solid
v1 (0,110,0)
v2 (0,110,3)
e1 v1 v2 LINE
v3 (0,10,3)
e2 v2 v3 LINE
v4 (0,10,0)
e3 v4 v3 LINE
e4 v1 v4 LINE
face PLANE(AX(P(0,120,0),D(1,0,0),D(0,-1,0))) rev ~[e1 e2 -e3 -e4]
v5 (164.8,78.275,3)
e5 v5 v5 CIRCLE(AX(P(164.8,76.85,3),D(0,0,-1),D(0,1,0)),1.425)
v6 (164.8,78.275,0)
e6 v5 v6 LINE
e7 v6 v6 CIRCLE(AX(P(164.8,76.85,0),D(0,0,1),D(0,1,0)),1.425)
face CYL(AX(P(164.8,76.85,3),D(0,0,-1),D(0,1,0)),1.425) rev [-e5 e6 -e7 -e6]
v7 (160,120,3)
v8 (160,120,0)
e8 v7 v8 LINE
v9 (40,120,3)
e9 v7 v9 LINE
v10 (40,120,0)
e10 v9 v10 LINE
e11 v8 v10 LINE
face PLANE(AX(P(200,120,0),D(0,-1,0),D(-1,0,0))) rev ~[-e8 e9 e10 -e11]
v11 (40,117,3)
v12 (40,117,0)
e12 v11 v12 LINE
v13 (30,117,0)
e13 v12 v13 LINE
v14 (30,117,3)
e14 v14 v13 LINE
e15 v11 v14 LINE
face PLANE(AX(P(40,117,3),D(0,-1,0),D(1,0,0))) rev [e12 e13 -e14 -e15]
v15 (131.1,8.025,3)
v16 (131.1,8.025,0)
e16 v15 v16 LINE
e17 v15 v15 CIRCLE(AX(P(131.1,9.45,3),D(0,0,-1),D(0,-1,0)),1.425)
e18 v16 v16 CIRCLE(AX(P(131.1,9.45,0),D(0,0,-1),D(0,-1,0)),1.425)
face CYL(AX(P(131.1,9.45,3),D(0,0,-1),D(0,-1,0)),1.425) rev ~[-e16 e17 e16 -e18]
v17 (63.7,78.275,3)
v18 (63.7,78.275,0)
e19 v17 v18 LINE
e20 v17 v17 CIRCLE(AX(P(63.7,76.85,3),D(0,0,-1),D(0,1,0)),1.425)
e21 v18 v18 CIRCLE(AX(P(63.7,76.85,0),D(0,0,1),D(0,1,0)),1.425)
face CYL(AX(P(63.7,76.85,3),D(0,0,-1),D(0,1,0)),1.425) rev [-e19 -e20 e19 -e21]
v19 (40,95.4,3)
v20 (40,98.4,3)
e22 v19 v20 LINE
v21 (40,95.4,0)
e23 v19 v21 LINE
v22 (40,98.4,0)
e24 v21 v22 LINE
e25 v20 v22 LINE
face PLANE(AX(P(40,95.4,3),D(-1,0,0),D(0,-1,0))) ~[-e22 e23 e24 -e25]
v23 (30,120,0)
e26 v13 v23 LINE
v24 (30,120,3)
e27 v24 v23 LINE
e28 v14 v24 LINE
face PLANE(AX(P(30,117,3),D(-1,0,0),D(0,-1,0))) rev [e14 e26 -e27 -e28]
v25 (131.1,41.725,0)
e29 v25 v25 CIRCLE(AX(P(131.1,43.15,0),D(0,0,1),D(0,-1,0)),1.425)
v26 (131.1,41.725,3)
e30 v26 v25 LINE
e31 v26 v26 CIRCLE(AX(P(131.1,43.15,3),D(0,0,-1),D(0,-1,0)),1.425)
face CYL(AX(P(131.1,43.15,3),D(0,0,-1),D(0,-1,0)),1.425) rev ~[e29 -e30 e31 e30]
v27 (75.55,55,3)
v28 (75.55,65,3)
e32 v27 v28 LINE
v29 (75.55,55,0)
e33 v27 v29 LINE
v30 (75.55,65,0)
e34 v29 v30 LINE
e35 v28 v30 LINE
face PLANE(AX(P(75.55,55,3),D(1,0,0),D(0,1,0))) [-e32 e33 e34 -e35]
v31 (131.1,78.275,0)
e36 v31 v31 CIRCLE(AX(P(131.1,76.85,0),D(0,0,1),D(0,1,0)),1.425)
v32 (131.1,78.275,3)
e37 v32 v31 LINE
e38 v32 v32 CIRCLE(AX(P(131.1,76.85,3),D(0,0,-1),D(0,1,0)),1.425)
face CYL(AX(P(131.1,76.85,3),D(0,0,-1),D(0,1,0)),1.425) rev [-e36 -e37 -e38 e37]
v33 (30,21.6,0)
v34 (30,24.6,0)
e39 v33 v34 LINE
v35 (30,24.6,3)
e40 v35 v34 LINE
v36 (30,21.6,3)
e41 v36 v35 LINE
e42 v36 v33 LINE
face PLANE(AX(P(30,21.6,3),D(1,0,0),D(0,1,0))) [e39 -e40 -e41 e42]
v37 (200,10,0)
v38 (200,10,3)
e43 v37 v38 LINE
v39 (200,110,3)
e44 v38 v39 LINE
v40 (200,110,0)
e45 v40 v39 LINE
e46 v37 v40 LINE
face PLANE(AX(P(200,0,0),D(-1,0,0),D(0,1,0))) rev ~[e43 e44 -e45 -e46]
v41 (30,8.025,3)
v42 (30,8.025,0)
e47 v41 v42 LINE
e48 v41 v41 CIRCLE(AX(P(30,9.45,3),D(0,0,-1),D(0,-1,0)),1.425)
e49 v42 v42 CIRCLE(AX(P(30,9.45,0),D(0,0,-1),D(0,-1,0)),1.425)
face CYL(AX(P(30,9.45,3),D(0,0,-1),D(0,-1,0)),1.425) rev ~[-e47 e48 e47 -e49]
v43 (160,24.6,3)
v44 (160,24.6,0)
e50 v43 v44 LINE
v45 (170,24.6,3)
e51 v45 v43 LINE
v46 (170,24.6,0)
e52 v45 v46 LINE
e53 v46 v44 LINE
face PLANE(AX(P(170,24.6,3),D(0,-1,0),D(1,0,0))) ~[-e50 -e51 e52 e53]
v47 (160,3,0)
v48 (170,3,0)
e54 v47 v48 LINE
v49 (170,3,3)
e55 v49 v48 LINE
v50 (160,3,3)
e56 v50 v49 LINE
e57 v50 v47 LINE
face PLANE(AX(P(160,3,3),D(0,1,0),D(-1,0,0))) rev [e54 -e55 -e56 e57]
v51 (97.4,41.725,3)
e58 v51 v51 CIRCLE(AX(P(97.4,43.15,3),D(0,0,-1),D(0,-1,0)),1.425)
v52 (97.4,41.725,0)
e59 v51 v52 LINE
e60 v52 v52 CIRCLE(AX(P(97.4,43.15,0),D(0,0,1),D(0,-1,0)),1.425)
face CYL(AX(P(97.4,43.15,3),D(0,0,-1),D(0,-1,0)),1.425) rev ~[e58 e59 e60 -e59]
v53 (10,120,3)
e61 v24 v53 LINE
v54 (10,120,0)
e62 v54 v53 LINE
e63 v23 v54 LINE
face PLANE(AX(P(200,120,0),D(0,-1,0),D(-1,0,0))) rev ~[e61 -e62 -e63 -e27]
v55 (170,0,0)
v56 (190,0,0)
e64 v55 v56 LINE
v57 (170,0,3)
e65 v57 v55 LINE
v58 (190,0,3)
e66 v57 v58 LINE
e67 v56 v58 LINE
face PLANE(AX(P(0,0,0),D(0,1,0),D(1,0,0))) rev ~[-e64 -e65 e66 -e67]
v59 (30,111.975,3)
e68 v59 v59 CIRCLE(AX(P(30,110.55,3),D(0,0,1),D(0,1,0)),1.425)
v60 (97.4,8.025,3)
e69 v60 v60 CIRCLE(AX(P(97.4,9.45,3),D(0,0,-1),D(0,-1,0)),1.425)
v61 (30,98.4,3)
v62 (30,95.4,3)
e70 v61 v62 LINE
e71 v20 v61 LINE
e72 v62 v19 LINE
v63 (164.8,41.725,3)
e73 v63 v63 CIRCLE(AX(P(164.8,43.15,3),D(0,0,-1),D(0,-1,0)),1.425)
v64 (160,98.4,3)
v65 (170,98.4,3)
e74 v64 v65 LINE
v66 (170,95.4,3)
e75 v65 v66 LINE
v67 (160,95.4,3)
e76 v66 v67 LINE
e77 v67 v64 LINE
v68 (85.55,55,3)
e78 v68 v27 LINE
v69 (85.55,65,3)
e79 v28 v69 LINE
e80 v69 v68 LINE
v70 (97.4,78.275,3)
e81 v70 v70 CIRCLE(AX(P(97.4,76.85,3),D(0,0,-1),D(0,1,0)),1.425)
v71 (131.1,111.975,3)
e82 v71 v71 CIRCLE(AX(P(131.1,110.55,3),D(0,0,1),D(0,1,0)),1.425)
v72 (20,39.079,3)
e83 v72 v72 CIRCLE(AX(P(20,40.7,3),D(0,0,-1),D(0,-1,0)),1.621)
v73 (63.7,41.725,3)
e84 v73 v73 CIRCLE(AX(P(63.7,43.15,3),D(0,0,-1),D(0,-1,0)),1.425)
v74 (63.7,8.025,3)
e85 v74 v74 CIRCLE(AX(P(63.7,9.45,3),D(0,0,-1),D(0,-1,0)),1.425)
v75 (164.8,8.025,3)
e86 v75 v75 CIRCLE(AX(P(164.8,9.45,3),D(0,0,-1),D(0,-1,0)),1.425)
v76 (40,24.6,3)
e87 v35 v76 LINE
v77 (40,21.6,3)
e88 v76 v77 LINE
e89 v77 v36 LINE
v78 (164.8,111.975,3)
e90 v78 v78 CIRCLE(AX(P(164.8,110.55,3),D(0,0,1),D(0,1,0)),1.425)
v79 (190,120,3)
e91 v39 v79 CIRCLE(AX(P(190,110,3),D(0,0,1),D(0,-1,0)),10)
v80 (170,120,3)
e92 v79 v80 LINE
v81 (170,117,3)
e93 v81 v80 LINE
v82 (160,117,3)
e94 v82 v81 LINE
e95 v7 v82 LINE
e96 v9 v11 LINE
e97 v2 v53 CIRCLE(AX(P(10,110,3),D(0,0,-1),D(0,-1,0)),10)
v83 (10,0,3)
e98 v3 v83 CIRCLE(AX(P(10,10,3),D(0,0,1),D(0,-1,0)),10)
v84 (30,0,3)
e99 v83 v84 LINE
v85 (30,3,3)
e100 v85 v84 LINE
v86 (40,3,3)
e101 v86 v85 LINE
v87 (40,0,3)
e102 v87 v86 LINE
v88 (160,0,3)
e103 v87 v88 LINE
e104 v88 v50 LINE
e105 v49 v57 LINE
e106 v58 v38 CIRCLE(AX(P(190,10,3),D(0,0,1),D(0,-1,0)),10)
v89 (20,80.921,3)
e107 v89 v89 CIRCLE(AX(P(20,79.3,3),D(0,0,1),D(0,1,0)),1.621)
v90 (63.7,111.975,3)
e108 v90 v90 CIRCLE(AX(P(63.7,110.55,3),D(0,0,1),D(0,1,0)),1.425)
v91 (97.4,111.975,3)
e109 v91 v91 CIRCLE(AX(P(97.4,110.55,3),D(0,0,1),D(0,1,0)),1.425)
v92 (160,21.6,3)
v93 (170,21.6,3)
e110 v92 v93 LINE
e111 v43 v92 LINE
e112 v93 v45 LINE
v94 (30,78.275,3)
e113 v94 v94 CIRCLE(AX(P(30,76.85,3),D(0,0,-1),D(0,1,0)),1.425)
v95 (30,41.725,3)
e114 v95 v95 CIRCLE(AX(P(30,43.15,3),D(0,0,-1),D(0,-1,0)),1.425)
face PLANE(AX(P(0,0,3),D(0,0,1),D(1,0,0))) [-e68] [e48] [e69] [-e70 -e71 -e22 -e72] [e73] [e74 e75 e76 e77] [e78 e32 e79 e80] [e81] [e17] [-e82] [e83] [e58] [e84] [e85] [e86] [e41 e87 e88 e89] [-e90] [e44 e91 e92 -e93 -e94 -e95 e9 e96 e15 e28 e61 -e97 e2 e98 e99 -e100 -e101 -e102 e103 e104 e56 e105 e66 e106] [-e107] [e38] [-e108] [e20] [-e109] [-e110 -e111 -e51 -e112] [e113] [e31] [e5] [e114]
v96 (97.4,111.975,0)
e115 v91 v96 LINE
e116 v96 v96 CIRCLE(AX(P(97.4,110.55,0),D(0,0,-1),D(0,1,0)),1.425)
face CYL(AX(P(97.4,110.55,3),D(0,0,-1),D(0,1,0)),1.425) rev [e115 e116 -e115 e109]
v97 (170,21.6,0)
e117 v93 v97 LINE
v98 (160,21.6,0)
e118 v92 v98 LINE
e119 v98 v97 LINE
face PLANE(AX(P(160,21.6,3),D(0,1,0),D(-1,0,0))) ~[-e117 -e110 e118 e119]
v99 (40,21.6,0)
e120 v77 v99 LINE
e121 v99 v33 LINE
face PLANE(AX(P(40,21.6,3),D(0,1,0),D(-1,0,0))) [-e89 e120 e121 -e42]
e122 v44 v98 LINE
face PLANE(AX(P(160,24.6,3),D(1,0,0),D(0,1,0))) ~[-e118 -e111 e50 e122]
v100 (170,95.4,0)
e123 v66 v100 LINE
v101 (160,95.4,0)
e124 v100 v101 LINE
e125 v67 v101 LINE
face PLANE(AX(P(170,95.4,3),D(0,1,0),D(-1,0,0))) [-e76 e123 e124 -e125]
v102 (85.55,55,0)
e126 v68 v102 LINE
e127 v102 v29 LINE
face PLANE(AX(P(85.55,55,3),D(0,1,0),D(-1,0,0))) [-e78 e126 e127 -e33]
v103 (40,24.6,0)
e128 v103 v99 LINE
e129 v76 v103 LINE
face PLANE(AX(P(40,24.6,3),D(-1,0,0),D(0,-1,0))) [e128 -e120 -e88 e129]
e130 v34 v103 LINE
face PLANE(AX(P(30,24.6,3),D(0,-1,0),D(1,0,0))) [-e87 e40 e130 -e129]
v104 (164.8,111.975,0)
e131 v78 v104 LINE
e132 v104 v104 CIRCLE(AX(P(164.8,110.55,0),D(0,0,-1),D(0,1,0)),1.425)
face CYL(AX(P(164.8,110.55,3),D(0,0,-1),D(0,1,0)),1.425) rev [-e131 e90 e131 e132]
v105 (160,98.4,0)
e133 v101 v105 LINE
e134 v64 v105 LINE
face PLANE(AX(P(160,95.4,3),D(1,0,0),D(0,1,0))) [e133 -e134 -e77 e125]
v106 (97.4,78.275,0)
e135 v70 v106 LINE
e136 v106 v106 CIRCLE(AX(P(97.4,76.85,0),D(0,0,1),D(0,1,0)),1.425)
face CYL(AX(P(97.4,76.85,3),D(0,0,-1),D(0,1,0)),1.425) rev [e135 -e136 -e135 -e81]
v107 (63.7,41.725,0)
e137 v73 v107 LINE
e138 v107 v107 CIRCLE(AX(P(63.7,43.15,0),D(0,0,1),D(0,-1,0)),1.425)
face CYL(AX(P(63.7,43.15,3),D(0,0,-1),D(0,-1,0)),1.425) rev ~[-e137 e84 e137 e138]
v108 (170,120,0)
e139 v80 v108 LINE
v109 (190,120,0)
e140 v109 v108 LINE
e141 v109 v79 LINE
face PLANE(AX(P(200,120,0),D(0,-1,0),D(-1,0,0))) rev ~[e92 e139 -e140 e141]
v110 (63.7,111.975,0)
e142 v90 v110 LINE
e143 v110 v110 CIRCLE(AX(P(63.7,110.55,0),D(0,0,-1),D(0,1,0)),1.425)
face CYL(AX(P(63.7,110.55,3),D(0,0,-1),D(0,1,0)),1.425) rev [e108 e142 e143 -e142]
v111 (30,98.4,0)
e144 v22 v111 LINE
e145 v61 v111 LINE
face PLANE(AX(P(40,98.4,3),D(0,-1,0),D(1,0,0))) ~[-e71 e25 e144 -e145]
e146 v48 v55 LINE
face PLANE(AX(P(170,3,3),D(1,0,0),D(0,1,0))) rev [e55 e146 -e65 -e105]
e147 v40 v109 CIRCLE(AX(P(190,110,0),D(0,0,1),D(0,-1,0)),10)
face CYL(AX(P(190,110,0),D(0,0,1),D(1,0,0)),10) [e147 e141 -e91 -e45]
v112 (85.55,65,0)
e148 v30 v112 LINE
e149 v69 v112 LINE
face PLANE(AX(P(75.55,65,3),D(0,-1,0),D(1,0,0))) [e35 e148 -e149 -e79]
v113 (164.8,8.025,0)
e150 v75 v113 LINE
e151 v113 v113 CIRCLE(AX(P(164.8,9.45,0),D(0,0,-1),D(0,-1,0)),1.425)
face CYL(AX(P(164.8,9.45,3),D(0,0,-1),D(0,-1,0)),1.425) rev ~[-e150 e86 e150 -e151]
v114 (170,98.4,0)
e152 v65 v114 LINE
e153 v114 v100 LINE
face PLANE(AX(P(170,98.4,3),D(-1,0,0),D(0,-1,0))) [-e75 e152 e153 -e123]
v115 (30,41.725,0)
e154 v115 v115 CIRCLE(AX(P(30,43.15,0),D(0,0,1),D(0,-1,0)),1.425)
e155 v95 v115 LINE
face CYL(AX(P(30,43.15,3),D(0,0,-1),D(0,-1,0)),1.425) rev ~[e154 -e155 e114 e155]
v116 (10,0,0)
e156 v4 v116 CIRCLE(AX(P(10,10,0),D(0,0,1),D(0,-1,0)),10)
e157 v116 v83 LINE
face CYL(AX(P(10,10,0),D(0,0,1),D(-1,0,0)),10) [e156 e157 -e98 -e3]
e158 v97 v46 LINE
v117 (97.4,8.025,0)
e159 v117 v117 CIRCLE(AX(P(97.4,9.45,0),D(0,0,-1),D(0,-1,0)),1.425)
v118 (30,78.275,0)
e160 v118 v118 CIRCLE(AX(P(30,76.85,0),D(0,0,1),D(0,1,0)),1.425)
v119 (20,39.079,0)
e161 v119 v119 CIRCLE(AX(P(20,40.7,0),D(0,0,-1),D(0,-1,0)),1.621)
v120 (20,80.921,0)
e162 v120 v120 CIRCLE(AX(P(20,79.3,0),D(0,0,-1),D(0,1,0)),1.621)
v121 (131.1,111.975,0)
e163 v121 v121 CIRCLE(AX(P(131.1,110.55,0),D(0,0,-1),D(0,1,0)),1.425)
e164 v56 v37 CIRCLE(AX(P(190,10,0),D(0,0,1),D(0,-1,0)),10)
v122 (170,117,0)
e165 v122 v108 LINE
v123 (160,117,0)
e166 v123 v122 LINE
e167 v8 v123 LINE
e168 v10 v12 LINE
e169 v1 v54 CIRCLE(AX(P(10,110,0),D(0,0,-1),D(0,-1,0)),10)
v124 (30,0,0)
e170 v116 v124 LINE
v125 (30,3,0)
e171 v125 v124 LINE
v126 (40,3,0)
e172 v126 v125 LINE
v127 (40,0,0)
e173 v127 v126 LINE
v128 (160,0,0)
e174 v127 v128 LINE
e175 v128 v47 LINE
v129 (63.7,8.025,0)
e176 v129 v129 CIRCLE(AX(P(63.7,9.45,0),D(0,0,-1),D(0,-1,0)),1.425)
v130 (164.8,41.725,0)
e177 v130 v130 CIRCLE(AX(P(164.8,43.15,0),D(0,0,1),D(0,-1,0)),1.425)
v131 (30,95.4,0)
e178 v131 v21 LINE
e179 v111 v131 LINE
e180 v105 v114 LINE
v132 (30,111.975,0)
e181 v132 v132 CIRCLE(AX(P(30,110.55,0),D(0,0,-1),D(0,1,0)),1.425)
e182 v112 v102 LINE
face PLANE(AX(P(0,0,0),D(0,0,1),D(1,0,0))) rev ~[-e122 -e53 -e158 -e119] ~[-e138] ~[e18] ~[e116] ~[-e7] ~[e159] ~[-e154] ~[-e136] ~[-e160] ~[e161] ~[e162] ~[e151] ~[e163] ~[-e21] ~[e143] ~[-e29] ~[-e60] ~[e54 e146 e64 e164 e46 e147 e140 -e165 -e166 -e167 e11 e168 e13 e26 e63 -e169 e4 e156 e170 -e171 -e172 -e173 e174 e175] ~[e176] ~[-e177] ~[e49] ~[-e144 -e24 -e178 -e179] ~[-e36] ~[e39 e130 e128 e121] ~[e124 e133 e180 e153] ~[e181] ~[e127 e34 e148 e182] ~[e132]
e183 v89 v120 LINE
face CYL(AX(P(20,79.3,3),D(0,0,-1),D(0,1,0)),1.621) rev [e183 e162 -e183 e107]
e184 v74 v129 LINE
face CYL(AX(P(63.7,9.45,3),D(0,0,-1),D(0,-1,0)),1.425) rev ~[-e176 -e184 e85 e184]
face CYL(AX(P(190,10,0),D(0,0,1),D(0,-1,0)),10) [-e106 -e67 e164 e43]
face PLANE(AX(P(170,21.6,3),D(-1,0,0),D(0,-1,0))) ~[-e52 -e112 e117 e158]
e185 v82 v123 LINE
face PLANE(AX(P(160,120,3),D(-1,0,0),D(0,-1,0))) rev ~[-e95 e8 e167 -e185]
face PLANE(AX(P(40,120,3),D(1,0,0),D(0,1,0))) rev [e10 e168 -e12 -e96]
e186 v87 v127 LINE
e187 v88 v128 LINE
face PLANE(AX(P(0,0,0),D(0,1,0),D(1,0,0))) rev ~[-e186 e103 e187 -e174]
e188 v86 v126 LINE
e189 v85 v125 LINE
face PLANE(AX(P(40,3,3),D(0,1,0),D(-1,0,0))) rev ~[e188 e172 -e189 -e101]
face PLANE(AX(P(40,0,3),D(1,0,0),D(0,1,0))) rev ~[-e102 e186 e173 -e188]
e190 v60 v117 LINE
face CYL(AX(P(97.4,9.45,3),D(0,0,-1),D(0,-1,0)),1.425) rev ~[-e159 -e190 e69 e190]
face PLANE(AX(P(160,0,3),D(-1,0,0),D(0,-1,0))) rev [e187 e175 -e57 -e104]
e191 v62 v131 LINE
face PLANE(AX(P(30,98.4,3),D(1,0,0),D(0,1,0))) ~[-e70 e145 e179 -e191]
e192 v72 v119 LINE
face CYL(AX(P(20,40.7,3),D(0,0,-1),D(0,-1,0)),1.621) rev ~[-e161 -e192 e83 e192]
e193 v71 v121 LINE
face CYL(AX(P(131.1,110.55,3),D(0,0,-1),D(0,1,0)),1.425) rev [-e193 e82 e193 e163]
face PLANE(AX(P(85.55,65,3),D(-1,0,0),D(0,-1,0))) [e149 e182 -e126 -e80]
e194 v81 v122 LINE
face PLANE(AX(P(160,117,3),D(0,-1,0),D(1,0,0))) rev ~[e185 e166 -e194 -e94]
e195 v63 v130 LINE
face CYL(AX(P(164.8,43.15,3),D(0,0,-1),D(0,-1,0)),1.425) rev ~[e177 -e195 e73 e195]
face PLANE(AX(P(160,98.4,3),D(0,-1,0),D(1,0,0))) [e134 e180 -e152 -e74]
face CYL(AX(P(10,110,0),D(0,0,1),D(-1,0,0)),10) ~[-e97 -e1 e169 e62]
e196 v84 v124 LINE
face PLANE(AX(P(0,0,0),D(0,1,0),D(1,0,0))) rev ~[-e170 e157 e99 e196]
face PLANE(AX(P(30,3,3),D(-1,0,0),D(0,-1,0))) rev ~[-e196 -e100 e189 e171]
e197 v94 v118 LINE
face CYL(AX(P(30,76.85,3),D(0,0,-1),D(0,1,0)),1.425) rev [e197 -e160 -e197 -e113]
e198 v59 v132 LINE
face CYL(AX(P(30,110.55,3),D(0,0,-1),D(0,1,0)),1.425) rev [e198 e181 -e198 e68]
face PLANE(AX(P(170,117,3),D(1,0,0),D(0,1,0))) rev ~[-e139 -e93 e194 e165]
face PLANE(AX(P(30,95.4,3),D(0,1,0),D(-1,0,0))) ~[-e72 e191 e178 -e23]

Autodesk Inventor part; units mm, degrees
sketch "Sketch1" plane through (0, 0, 0) normal (0, 0, 1) x (1, 0, 0)
  line L0 (0, 0) -> (200, 0)
  line L1 (200, 0) -> (200, 120)
  line L2 (200, 120) -> (0, 120)
  line L3 (0, 120) -> (0, 0)
  dimension "d6" = 200
  dimension "d7" = 120
extrude "Extrusion1" add sketch "Sketch1" along normal blind 3
sketch "Sketch2" plane through (0, 0, 3) normal (0, 0, 1) x (1, 0, 0)
  line L0 (0, 120) -> (0, 0) construction
  line L1 (0, 60) -> (200, 60) construction
  line L2 (200, 0) -> (200, 120) construction
  line L3 (200, 120) -> (0, 120) construction
  line L4 (100, 120) -> (100, 0) construction
  line L5 (0, 0) -> (200, 0) construction
  point P0 (30, 43.15)
  dimension "d10" = 16.85
  dimension "d11" = 30
hole "Hole1" at (30, 43.15, 3) direction (0, 0, -1) diameter 2.85 end through all thread size "M3.5x0.6" class "6H" standard "ISO Metric profile"
ref_plane "Work Plane1" through (0, 60, 0) normal (0, 1, 0) x (1, 0, 0)
mirror "Mirror1" about plane through (0, 60, 0) normal (0, 1, 0) of "Hole1"
pattern_linear "Rectangular Pattern1" count 2 spacing 33.7 along (1, 0, 0) of "Hole1", "Mirror1"
pattern_linear "Rectangular Pattern2" count 4 spacing 33.7 along (1, 0, 0) count 2 spacing 33.7 along (0, 1, 0) of "Hole1", "Mirror1", "Rectangular Pattern1"
mirror "Mirror2" about plane through (0, 60, 0) normal (0, 1, 0) of "Hole1", "Mirror1", "Rectangular Pattern1", "Rectangular Pattern2"
sketch "Sketch3" plane through (0, 0, 3) normal (0, 0, 1) x (1, 0, 0)
  line L0 (75.55, 65) -> (85.55, 65)
  line L1 (85.55, 65) -> (85.55, 55)
  line L2 (85.55, 55) -> (75.55, 55)
  line L3 (75.55, 55) -> (75.55, 65)
  circle A0 centre (63.7, 76.85) radius 1.425 construction
  circle A1 centre (97.4, 43.15) radius 1.425 construction
  line L4 (63.7, 76.85) -> (97.4, 43.15) construction
  circle A2 centre (97.4, 76.85) radius 1.425 construction
  circle A3 centre (63.7, 43.15) radius 1.425 construction
  line L5 (63.7, 43.15) -> (97.4, 76.85) construction
  point P0 (0, 0)
  point P1 (80.55, 65)
  point P2 (80.55, 60)
  point P3 (85.55, 60)
  point P4 (80.55, 60)
  dimension "d28" = 10
  dimension "d29" = 10
extrude "Extrusion2" cut sketch "Sketch3" against normal through all
sketch "Sketch4" plane through (0, 0, 3) normal (0, 0, 1) x (1, 0, 0)
  line L0 (0, 0) -> (200, 0) construction
  line L1 (30, 0) -> (40, 0)
  line L2 (40, 0) -> (40, 3)
  line L3 (40, 3) -> (30, 3)
  line L4 (30, 3) -> (30, 0)
  line L5 (0, 120) -> (0, 0) construction
  line L6 (30, 24.6) -> (40, 24.6)
  line L7 (40, 24.6) -> (40, 21.6)
  line L8 (40, 21.6) -> (30, 21.6)
  line L9 (30, 21.6) -> (30, 24.6)
  dimension "d32" = 3
  dimension "d33" = 10
  dimension "d34" = 30
  dimension "d35" = 18.6
  dimension "d36" = 3
  dimension "d37" = 10
extrude "Extrusion3" cut sketch "Sketch4" against normal through all
ref_plane "Work Plane66" through (0, 60, 0) normal (0, 1, 0) x (1, 0, 0)
mirror "Mirror3" about plane through (0, 60, 0) normal (0, 1, 0) of "Extrusion3"
ref_plane "Work Plane67" through (100, 0, 0) normal (-1, 0, 0) x (0, 0, 1)
mirror "Mirror4" about plane through (100, 0, 0) normal (-1, 0, 0) of "Extrusion3", "Mirror3"
sketch "Sketch5" plane through (0, 0, 3) normal (0, 0, 1) x (1, 0, 0)
  line L0 (0, 120) -> (0, 0) construction
  line L1 (0, 120) -> (0, 0) construction
  line L2 (0, 60) -> (200, 60) construction
  line L3 (200, 0) -> (200, 120) construction
  point P0 (20, 40.7)
  dimension "d40" = 20
  dimension "d41" = 19.3
hole "Hole2" at (20, 40.7, 3) direction (0, 0, -1) diameter 3.242 end through all thread size "M4x0.7" class "6H" standard "ISO Metric profile"
ref_plane "Work Plane68" through (40, 60, 0) normal (0, -1, 0) x (1, 0, 0)
mirror "Mirror5" about plane through (40, 60, 0) normal (0, -1, 0) of "Hole2"
fillet "Fillet1" radius 10 4 edges at (0, 120, 1.5) (0, 0, 1.5) (200, 0, 1.5) (200, 120, 1.5)
ref_plane "Work Plane2" through (0, 60, 0) normal (0, 1, 0) x (1, 0, 0)
ref_plane "Work Plane4" through (33.7, 60, 0) normal (0, 1, 0) x (1, 0, 0)
ref_plane "Work Plane5" through (33.7, 60, 0) normal (0, 1, 0) x (1, 0, 0)
ref_plane "Work Plane6" through (33.7, 60, 0) normal (0, 1, 0) x (1, 0, 0)
ref_plane "Work Plane7" through (67.4, 60, 0) normal (0, 1, 0) x (1, 0, 0)
ref_plane "Work Plane8" through (101.1, 60, 0) normal (0, 1, 0) x (1, 0, 0)
ref_plane "Work Plane9" through (0, 93.7, 0) normal (0, 1, 0) x (1, 0, 0)
ref_plane "Work Plane10" through (33.7, 93.7, 0) normal (0, 1, 0) x (1, 0, 0)
ref_plane "Work Plane11" through (67.4, 93.7, 0) normal (0, 1, 0) x (1, 0, 0)
ref_plane "Work Plane12" through (101.1, 93.7, 0) normal (0, 1, 0) x (1, 0, 0)
ref_plane "Work Plane13" through (33.7, 60, 0) normal (0, 1, 0) x (1, 0, 0)
ref_plane "Work Plane14" through (67.4, 60, 0) normal (0, 1, 0) x (1, 0, 0)
ref_plane "Work Plane15" through (101.1, 60, 0) normal (0, 1, 0) x (1, 0, 0)
ref_plane "Work Plane16" through (0, 93.7, 0) normal (0, 1, 0) x (1, 0, 0)
ref_plane "Work Plane17" through (33.7, 93.7, 0) normal (0, 1, 0) x (1, 0, 0)
ref_plane "Work Plane18" through (67.4, 93.7, 0) normal (0, 1, 0) x (1, 0, 0)
ref_plane "Work Plane19" through (101.1, 93.7, 0) normal (0, 1, 0) x (1, 0, 0)
ref_plane "Work Plane20" through (67.4, 60, 0) normal (0, 1, 0) x (1, 0, 0)
ref_plane "Work Plane21" through (101.1, 60, 0) normal (0, 1, 0) x (1, 0, 0)
ref_plane "Work Plane22" through (134.8, 60, 0) normal (0, 1, 0) x (1, 0, 0)
ref_plane "Work Plane23" through (33.7, 93.7, 0) normal (0, 1, 0) x (1, 0, 0)
ref_plane "Work Plane24" through (67.4, 93.7, 0) normal (0, 1, 0) x (1, 0, 0)
ref_plane "Work Plane25" through (101.1, 93.7, 0) normal (0, 1, 0) x (1, 0, 0)
ref_plane "Work Plane26" through (134.8, 93.7, 0) normal (0, 1, 0) x (1, 0, 0)
ref_plane "Work Plane27" through (67.4, 60, 0) normal (0, 1, 0) x (1, 0, 0)
ref_plane "Work Plane28" through (101.1, 60, 0) normal (0, 1, 0) x (1, 0, 0)
ref_plane "Work Plane29" through (134.8, 60, 0) normal (0, 1, 0) x (1, 0, 0)
ref_plane "Work Plane30" through (33.7, 93.7, 0) normal (0, 1, 0) x (1, 0, 0)
ref_plane "Work Plane31" through (67.4, 93.7, 0) normal (0, 1, 0) x (1, 0, 0)
ref_plane "Work Plane32" through (101.1, 93.7, 0) normal (0, 1, 0) x (1, 0, 0)
ref_plane "Work Plane33" through (134.8, 93.7, 0) normal (0, 1, 0) x (1, 0, 0)
ref_plane "Work Plane34" through (0, 60, 0) normal (0, 1, 0) x (1, 0, 0)
ref_plane "Work Plane35" through (0, 60, 0) normal (0, 1, 0) x (1, 0, 0)
ref_plane "Work Plane36" through (33.7, 60, 0) normal (0, 1, 0) x (1, 0, 0)
ref_plane "Work Plane37" through (33.7, 60, 0) normal (0, 1, 0) x (1, 0, 0)
ref_plane "Work Plane38" through (134.8, 26.3, 0) normal (0, 1, 0) x (1, 0, 0)
ref_plane "Work Plane39" through (101.1, 26.3, 0) normal (0, 1, 0) x (1, 0, 0)
ref_plane "Work Plane40" through (67.4, 26.3, 0) normal (0, 1, 0) x (1, 0, 0)
ref_plane "Work Plane41" through (33.7, 26.3, 0) normal (0, 1, 0) x (1, 0, 0)
ref_plane "Work Plane42" through (134.8, 60, 0) normal (0, 1, 0) x (1, 0, 0)
ref_plane "Work Plane43" through (101.1, 60, 0) normal (0, 1, 0) x (1, 0, 0)
ref_plane "Work Plane44" through (67.4, 60, 0) normal (0, 1, 0) x (1, 0, 0)
ref_plane "Work Plane45" through (134.8, 26.3, 0) normal (0, 1, 0) x (1, 0, 0)
ref_plane "Work Plane46" through (101.1, 26.3, 0) normal (0, 1, 0) x (1, 0, 0)
ref_plane "Work Plane47" through (67.4, 26.3, 0) normal (0, 1, 0) x (1, 0, 0)
ref_plane "Work Plane48" through (33.7, 26.3, 0) normal (0, 1, 0) x (1, 0, 0)
ref_plane "Work Plane49" through (134.8, 60, 0) normal (0, 1, 0) x (1, 0, 0)
ref_plane "Work Plane50" through (101.1, 60, 0) normal (0, 1, 0) x (1, 0, 0)
ref_plane "Work Plane51" through (67.4, 60, 0) normal (0, 1, 0) x (1, 0, 0)
ref_plane "Work Plane52" through (101.1, 26.3, 0) normal (0, 1, 0) x (1, 0, 0)
ref_plane "Work Plane53" through (67.4, 26.3, 0) normal (0, 1, 0) x (1, 0, 0)
ref_plane "Work Plane54" through (33.7, 26.3, 0) normal (0, 1, 0) x (1, 0, 0)
ref_plane "Work Plane55" through (0, 26.3, 0) normal (0, 1, 0) x (1, 0, 0)
ref_plane "Work Plane56" through (101.1, 60, 0) normal (0, 1, 0) x (1, 0, 0)
ref_plane "Work Plane57" through (67.4, 60, 0) normal (0, 1, 0) x (1, 0, 0)
ref_plane "Work Plane58" through (33.7, 60, 0) normal (0, 1, 0) x (1, 0, 0)
ref_plane "Work Plane59" through (101.1, 26.3, 0) normal (0, 1, 0) x (1, 0, 0)
ref_plane "Work Plane60" through (67.4, 26.3, 0) normal (0, 1, 0) x (1, 0, 0)
ref_plane "Work Plane61" through (33.7, 26.3, 0) normal (0, 1, 0) x (1, 0, 0)
ref_plane "Work Plane62" through (0, 26.3, 0) normal (0, 1, 0) x (1, 0, 0)
ref_plane "Work Plane63" through (101.1, 60, 0) normal (0, 1, 0) x (1, 0, 0)
ref_plane "Work Plane64" through (67.4, 60, 0) normal (0, 1, 0) x (1, 0, 0)
ref_plane "Work Plane65" through (33.7, 60, 0) normal (0, 1, 0) x (1, 0, 0)
equation "\"d36\" = d32"
equation "\"d37\" = d33"
properties part number "FPVchasisdraft2"
